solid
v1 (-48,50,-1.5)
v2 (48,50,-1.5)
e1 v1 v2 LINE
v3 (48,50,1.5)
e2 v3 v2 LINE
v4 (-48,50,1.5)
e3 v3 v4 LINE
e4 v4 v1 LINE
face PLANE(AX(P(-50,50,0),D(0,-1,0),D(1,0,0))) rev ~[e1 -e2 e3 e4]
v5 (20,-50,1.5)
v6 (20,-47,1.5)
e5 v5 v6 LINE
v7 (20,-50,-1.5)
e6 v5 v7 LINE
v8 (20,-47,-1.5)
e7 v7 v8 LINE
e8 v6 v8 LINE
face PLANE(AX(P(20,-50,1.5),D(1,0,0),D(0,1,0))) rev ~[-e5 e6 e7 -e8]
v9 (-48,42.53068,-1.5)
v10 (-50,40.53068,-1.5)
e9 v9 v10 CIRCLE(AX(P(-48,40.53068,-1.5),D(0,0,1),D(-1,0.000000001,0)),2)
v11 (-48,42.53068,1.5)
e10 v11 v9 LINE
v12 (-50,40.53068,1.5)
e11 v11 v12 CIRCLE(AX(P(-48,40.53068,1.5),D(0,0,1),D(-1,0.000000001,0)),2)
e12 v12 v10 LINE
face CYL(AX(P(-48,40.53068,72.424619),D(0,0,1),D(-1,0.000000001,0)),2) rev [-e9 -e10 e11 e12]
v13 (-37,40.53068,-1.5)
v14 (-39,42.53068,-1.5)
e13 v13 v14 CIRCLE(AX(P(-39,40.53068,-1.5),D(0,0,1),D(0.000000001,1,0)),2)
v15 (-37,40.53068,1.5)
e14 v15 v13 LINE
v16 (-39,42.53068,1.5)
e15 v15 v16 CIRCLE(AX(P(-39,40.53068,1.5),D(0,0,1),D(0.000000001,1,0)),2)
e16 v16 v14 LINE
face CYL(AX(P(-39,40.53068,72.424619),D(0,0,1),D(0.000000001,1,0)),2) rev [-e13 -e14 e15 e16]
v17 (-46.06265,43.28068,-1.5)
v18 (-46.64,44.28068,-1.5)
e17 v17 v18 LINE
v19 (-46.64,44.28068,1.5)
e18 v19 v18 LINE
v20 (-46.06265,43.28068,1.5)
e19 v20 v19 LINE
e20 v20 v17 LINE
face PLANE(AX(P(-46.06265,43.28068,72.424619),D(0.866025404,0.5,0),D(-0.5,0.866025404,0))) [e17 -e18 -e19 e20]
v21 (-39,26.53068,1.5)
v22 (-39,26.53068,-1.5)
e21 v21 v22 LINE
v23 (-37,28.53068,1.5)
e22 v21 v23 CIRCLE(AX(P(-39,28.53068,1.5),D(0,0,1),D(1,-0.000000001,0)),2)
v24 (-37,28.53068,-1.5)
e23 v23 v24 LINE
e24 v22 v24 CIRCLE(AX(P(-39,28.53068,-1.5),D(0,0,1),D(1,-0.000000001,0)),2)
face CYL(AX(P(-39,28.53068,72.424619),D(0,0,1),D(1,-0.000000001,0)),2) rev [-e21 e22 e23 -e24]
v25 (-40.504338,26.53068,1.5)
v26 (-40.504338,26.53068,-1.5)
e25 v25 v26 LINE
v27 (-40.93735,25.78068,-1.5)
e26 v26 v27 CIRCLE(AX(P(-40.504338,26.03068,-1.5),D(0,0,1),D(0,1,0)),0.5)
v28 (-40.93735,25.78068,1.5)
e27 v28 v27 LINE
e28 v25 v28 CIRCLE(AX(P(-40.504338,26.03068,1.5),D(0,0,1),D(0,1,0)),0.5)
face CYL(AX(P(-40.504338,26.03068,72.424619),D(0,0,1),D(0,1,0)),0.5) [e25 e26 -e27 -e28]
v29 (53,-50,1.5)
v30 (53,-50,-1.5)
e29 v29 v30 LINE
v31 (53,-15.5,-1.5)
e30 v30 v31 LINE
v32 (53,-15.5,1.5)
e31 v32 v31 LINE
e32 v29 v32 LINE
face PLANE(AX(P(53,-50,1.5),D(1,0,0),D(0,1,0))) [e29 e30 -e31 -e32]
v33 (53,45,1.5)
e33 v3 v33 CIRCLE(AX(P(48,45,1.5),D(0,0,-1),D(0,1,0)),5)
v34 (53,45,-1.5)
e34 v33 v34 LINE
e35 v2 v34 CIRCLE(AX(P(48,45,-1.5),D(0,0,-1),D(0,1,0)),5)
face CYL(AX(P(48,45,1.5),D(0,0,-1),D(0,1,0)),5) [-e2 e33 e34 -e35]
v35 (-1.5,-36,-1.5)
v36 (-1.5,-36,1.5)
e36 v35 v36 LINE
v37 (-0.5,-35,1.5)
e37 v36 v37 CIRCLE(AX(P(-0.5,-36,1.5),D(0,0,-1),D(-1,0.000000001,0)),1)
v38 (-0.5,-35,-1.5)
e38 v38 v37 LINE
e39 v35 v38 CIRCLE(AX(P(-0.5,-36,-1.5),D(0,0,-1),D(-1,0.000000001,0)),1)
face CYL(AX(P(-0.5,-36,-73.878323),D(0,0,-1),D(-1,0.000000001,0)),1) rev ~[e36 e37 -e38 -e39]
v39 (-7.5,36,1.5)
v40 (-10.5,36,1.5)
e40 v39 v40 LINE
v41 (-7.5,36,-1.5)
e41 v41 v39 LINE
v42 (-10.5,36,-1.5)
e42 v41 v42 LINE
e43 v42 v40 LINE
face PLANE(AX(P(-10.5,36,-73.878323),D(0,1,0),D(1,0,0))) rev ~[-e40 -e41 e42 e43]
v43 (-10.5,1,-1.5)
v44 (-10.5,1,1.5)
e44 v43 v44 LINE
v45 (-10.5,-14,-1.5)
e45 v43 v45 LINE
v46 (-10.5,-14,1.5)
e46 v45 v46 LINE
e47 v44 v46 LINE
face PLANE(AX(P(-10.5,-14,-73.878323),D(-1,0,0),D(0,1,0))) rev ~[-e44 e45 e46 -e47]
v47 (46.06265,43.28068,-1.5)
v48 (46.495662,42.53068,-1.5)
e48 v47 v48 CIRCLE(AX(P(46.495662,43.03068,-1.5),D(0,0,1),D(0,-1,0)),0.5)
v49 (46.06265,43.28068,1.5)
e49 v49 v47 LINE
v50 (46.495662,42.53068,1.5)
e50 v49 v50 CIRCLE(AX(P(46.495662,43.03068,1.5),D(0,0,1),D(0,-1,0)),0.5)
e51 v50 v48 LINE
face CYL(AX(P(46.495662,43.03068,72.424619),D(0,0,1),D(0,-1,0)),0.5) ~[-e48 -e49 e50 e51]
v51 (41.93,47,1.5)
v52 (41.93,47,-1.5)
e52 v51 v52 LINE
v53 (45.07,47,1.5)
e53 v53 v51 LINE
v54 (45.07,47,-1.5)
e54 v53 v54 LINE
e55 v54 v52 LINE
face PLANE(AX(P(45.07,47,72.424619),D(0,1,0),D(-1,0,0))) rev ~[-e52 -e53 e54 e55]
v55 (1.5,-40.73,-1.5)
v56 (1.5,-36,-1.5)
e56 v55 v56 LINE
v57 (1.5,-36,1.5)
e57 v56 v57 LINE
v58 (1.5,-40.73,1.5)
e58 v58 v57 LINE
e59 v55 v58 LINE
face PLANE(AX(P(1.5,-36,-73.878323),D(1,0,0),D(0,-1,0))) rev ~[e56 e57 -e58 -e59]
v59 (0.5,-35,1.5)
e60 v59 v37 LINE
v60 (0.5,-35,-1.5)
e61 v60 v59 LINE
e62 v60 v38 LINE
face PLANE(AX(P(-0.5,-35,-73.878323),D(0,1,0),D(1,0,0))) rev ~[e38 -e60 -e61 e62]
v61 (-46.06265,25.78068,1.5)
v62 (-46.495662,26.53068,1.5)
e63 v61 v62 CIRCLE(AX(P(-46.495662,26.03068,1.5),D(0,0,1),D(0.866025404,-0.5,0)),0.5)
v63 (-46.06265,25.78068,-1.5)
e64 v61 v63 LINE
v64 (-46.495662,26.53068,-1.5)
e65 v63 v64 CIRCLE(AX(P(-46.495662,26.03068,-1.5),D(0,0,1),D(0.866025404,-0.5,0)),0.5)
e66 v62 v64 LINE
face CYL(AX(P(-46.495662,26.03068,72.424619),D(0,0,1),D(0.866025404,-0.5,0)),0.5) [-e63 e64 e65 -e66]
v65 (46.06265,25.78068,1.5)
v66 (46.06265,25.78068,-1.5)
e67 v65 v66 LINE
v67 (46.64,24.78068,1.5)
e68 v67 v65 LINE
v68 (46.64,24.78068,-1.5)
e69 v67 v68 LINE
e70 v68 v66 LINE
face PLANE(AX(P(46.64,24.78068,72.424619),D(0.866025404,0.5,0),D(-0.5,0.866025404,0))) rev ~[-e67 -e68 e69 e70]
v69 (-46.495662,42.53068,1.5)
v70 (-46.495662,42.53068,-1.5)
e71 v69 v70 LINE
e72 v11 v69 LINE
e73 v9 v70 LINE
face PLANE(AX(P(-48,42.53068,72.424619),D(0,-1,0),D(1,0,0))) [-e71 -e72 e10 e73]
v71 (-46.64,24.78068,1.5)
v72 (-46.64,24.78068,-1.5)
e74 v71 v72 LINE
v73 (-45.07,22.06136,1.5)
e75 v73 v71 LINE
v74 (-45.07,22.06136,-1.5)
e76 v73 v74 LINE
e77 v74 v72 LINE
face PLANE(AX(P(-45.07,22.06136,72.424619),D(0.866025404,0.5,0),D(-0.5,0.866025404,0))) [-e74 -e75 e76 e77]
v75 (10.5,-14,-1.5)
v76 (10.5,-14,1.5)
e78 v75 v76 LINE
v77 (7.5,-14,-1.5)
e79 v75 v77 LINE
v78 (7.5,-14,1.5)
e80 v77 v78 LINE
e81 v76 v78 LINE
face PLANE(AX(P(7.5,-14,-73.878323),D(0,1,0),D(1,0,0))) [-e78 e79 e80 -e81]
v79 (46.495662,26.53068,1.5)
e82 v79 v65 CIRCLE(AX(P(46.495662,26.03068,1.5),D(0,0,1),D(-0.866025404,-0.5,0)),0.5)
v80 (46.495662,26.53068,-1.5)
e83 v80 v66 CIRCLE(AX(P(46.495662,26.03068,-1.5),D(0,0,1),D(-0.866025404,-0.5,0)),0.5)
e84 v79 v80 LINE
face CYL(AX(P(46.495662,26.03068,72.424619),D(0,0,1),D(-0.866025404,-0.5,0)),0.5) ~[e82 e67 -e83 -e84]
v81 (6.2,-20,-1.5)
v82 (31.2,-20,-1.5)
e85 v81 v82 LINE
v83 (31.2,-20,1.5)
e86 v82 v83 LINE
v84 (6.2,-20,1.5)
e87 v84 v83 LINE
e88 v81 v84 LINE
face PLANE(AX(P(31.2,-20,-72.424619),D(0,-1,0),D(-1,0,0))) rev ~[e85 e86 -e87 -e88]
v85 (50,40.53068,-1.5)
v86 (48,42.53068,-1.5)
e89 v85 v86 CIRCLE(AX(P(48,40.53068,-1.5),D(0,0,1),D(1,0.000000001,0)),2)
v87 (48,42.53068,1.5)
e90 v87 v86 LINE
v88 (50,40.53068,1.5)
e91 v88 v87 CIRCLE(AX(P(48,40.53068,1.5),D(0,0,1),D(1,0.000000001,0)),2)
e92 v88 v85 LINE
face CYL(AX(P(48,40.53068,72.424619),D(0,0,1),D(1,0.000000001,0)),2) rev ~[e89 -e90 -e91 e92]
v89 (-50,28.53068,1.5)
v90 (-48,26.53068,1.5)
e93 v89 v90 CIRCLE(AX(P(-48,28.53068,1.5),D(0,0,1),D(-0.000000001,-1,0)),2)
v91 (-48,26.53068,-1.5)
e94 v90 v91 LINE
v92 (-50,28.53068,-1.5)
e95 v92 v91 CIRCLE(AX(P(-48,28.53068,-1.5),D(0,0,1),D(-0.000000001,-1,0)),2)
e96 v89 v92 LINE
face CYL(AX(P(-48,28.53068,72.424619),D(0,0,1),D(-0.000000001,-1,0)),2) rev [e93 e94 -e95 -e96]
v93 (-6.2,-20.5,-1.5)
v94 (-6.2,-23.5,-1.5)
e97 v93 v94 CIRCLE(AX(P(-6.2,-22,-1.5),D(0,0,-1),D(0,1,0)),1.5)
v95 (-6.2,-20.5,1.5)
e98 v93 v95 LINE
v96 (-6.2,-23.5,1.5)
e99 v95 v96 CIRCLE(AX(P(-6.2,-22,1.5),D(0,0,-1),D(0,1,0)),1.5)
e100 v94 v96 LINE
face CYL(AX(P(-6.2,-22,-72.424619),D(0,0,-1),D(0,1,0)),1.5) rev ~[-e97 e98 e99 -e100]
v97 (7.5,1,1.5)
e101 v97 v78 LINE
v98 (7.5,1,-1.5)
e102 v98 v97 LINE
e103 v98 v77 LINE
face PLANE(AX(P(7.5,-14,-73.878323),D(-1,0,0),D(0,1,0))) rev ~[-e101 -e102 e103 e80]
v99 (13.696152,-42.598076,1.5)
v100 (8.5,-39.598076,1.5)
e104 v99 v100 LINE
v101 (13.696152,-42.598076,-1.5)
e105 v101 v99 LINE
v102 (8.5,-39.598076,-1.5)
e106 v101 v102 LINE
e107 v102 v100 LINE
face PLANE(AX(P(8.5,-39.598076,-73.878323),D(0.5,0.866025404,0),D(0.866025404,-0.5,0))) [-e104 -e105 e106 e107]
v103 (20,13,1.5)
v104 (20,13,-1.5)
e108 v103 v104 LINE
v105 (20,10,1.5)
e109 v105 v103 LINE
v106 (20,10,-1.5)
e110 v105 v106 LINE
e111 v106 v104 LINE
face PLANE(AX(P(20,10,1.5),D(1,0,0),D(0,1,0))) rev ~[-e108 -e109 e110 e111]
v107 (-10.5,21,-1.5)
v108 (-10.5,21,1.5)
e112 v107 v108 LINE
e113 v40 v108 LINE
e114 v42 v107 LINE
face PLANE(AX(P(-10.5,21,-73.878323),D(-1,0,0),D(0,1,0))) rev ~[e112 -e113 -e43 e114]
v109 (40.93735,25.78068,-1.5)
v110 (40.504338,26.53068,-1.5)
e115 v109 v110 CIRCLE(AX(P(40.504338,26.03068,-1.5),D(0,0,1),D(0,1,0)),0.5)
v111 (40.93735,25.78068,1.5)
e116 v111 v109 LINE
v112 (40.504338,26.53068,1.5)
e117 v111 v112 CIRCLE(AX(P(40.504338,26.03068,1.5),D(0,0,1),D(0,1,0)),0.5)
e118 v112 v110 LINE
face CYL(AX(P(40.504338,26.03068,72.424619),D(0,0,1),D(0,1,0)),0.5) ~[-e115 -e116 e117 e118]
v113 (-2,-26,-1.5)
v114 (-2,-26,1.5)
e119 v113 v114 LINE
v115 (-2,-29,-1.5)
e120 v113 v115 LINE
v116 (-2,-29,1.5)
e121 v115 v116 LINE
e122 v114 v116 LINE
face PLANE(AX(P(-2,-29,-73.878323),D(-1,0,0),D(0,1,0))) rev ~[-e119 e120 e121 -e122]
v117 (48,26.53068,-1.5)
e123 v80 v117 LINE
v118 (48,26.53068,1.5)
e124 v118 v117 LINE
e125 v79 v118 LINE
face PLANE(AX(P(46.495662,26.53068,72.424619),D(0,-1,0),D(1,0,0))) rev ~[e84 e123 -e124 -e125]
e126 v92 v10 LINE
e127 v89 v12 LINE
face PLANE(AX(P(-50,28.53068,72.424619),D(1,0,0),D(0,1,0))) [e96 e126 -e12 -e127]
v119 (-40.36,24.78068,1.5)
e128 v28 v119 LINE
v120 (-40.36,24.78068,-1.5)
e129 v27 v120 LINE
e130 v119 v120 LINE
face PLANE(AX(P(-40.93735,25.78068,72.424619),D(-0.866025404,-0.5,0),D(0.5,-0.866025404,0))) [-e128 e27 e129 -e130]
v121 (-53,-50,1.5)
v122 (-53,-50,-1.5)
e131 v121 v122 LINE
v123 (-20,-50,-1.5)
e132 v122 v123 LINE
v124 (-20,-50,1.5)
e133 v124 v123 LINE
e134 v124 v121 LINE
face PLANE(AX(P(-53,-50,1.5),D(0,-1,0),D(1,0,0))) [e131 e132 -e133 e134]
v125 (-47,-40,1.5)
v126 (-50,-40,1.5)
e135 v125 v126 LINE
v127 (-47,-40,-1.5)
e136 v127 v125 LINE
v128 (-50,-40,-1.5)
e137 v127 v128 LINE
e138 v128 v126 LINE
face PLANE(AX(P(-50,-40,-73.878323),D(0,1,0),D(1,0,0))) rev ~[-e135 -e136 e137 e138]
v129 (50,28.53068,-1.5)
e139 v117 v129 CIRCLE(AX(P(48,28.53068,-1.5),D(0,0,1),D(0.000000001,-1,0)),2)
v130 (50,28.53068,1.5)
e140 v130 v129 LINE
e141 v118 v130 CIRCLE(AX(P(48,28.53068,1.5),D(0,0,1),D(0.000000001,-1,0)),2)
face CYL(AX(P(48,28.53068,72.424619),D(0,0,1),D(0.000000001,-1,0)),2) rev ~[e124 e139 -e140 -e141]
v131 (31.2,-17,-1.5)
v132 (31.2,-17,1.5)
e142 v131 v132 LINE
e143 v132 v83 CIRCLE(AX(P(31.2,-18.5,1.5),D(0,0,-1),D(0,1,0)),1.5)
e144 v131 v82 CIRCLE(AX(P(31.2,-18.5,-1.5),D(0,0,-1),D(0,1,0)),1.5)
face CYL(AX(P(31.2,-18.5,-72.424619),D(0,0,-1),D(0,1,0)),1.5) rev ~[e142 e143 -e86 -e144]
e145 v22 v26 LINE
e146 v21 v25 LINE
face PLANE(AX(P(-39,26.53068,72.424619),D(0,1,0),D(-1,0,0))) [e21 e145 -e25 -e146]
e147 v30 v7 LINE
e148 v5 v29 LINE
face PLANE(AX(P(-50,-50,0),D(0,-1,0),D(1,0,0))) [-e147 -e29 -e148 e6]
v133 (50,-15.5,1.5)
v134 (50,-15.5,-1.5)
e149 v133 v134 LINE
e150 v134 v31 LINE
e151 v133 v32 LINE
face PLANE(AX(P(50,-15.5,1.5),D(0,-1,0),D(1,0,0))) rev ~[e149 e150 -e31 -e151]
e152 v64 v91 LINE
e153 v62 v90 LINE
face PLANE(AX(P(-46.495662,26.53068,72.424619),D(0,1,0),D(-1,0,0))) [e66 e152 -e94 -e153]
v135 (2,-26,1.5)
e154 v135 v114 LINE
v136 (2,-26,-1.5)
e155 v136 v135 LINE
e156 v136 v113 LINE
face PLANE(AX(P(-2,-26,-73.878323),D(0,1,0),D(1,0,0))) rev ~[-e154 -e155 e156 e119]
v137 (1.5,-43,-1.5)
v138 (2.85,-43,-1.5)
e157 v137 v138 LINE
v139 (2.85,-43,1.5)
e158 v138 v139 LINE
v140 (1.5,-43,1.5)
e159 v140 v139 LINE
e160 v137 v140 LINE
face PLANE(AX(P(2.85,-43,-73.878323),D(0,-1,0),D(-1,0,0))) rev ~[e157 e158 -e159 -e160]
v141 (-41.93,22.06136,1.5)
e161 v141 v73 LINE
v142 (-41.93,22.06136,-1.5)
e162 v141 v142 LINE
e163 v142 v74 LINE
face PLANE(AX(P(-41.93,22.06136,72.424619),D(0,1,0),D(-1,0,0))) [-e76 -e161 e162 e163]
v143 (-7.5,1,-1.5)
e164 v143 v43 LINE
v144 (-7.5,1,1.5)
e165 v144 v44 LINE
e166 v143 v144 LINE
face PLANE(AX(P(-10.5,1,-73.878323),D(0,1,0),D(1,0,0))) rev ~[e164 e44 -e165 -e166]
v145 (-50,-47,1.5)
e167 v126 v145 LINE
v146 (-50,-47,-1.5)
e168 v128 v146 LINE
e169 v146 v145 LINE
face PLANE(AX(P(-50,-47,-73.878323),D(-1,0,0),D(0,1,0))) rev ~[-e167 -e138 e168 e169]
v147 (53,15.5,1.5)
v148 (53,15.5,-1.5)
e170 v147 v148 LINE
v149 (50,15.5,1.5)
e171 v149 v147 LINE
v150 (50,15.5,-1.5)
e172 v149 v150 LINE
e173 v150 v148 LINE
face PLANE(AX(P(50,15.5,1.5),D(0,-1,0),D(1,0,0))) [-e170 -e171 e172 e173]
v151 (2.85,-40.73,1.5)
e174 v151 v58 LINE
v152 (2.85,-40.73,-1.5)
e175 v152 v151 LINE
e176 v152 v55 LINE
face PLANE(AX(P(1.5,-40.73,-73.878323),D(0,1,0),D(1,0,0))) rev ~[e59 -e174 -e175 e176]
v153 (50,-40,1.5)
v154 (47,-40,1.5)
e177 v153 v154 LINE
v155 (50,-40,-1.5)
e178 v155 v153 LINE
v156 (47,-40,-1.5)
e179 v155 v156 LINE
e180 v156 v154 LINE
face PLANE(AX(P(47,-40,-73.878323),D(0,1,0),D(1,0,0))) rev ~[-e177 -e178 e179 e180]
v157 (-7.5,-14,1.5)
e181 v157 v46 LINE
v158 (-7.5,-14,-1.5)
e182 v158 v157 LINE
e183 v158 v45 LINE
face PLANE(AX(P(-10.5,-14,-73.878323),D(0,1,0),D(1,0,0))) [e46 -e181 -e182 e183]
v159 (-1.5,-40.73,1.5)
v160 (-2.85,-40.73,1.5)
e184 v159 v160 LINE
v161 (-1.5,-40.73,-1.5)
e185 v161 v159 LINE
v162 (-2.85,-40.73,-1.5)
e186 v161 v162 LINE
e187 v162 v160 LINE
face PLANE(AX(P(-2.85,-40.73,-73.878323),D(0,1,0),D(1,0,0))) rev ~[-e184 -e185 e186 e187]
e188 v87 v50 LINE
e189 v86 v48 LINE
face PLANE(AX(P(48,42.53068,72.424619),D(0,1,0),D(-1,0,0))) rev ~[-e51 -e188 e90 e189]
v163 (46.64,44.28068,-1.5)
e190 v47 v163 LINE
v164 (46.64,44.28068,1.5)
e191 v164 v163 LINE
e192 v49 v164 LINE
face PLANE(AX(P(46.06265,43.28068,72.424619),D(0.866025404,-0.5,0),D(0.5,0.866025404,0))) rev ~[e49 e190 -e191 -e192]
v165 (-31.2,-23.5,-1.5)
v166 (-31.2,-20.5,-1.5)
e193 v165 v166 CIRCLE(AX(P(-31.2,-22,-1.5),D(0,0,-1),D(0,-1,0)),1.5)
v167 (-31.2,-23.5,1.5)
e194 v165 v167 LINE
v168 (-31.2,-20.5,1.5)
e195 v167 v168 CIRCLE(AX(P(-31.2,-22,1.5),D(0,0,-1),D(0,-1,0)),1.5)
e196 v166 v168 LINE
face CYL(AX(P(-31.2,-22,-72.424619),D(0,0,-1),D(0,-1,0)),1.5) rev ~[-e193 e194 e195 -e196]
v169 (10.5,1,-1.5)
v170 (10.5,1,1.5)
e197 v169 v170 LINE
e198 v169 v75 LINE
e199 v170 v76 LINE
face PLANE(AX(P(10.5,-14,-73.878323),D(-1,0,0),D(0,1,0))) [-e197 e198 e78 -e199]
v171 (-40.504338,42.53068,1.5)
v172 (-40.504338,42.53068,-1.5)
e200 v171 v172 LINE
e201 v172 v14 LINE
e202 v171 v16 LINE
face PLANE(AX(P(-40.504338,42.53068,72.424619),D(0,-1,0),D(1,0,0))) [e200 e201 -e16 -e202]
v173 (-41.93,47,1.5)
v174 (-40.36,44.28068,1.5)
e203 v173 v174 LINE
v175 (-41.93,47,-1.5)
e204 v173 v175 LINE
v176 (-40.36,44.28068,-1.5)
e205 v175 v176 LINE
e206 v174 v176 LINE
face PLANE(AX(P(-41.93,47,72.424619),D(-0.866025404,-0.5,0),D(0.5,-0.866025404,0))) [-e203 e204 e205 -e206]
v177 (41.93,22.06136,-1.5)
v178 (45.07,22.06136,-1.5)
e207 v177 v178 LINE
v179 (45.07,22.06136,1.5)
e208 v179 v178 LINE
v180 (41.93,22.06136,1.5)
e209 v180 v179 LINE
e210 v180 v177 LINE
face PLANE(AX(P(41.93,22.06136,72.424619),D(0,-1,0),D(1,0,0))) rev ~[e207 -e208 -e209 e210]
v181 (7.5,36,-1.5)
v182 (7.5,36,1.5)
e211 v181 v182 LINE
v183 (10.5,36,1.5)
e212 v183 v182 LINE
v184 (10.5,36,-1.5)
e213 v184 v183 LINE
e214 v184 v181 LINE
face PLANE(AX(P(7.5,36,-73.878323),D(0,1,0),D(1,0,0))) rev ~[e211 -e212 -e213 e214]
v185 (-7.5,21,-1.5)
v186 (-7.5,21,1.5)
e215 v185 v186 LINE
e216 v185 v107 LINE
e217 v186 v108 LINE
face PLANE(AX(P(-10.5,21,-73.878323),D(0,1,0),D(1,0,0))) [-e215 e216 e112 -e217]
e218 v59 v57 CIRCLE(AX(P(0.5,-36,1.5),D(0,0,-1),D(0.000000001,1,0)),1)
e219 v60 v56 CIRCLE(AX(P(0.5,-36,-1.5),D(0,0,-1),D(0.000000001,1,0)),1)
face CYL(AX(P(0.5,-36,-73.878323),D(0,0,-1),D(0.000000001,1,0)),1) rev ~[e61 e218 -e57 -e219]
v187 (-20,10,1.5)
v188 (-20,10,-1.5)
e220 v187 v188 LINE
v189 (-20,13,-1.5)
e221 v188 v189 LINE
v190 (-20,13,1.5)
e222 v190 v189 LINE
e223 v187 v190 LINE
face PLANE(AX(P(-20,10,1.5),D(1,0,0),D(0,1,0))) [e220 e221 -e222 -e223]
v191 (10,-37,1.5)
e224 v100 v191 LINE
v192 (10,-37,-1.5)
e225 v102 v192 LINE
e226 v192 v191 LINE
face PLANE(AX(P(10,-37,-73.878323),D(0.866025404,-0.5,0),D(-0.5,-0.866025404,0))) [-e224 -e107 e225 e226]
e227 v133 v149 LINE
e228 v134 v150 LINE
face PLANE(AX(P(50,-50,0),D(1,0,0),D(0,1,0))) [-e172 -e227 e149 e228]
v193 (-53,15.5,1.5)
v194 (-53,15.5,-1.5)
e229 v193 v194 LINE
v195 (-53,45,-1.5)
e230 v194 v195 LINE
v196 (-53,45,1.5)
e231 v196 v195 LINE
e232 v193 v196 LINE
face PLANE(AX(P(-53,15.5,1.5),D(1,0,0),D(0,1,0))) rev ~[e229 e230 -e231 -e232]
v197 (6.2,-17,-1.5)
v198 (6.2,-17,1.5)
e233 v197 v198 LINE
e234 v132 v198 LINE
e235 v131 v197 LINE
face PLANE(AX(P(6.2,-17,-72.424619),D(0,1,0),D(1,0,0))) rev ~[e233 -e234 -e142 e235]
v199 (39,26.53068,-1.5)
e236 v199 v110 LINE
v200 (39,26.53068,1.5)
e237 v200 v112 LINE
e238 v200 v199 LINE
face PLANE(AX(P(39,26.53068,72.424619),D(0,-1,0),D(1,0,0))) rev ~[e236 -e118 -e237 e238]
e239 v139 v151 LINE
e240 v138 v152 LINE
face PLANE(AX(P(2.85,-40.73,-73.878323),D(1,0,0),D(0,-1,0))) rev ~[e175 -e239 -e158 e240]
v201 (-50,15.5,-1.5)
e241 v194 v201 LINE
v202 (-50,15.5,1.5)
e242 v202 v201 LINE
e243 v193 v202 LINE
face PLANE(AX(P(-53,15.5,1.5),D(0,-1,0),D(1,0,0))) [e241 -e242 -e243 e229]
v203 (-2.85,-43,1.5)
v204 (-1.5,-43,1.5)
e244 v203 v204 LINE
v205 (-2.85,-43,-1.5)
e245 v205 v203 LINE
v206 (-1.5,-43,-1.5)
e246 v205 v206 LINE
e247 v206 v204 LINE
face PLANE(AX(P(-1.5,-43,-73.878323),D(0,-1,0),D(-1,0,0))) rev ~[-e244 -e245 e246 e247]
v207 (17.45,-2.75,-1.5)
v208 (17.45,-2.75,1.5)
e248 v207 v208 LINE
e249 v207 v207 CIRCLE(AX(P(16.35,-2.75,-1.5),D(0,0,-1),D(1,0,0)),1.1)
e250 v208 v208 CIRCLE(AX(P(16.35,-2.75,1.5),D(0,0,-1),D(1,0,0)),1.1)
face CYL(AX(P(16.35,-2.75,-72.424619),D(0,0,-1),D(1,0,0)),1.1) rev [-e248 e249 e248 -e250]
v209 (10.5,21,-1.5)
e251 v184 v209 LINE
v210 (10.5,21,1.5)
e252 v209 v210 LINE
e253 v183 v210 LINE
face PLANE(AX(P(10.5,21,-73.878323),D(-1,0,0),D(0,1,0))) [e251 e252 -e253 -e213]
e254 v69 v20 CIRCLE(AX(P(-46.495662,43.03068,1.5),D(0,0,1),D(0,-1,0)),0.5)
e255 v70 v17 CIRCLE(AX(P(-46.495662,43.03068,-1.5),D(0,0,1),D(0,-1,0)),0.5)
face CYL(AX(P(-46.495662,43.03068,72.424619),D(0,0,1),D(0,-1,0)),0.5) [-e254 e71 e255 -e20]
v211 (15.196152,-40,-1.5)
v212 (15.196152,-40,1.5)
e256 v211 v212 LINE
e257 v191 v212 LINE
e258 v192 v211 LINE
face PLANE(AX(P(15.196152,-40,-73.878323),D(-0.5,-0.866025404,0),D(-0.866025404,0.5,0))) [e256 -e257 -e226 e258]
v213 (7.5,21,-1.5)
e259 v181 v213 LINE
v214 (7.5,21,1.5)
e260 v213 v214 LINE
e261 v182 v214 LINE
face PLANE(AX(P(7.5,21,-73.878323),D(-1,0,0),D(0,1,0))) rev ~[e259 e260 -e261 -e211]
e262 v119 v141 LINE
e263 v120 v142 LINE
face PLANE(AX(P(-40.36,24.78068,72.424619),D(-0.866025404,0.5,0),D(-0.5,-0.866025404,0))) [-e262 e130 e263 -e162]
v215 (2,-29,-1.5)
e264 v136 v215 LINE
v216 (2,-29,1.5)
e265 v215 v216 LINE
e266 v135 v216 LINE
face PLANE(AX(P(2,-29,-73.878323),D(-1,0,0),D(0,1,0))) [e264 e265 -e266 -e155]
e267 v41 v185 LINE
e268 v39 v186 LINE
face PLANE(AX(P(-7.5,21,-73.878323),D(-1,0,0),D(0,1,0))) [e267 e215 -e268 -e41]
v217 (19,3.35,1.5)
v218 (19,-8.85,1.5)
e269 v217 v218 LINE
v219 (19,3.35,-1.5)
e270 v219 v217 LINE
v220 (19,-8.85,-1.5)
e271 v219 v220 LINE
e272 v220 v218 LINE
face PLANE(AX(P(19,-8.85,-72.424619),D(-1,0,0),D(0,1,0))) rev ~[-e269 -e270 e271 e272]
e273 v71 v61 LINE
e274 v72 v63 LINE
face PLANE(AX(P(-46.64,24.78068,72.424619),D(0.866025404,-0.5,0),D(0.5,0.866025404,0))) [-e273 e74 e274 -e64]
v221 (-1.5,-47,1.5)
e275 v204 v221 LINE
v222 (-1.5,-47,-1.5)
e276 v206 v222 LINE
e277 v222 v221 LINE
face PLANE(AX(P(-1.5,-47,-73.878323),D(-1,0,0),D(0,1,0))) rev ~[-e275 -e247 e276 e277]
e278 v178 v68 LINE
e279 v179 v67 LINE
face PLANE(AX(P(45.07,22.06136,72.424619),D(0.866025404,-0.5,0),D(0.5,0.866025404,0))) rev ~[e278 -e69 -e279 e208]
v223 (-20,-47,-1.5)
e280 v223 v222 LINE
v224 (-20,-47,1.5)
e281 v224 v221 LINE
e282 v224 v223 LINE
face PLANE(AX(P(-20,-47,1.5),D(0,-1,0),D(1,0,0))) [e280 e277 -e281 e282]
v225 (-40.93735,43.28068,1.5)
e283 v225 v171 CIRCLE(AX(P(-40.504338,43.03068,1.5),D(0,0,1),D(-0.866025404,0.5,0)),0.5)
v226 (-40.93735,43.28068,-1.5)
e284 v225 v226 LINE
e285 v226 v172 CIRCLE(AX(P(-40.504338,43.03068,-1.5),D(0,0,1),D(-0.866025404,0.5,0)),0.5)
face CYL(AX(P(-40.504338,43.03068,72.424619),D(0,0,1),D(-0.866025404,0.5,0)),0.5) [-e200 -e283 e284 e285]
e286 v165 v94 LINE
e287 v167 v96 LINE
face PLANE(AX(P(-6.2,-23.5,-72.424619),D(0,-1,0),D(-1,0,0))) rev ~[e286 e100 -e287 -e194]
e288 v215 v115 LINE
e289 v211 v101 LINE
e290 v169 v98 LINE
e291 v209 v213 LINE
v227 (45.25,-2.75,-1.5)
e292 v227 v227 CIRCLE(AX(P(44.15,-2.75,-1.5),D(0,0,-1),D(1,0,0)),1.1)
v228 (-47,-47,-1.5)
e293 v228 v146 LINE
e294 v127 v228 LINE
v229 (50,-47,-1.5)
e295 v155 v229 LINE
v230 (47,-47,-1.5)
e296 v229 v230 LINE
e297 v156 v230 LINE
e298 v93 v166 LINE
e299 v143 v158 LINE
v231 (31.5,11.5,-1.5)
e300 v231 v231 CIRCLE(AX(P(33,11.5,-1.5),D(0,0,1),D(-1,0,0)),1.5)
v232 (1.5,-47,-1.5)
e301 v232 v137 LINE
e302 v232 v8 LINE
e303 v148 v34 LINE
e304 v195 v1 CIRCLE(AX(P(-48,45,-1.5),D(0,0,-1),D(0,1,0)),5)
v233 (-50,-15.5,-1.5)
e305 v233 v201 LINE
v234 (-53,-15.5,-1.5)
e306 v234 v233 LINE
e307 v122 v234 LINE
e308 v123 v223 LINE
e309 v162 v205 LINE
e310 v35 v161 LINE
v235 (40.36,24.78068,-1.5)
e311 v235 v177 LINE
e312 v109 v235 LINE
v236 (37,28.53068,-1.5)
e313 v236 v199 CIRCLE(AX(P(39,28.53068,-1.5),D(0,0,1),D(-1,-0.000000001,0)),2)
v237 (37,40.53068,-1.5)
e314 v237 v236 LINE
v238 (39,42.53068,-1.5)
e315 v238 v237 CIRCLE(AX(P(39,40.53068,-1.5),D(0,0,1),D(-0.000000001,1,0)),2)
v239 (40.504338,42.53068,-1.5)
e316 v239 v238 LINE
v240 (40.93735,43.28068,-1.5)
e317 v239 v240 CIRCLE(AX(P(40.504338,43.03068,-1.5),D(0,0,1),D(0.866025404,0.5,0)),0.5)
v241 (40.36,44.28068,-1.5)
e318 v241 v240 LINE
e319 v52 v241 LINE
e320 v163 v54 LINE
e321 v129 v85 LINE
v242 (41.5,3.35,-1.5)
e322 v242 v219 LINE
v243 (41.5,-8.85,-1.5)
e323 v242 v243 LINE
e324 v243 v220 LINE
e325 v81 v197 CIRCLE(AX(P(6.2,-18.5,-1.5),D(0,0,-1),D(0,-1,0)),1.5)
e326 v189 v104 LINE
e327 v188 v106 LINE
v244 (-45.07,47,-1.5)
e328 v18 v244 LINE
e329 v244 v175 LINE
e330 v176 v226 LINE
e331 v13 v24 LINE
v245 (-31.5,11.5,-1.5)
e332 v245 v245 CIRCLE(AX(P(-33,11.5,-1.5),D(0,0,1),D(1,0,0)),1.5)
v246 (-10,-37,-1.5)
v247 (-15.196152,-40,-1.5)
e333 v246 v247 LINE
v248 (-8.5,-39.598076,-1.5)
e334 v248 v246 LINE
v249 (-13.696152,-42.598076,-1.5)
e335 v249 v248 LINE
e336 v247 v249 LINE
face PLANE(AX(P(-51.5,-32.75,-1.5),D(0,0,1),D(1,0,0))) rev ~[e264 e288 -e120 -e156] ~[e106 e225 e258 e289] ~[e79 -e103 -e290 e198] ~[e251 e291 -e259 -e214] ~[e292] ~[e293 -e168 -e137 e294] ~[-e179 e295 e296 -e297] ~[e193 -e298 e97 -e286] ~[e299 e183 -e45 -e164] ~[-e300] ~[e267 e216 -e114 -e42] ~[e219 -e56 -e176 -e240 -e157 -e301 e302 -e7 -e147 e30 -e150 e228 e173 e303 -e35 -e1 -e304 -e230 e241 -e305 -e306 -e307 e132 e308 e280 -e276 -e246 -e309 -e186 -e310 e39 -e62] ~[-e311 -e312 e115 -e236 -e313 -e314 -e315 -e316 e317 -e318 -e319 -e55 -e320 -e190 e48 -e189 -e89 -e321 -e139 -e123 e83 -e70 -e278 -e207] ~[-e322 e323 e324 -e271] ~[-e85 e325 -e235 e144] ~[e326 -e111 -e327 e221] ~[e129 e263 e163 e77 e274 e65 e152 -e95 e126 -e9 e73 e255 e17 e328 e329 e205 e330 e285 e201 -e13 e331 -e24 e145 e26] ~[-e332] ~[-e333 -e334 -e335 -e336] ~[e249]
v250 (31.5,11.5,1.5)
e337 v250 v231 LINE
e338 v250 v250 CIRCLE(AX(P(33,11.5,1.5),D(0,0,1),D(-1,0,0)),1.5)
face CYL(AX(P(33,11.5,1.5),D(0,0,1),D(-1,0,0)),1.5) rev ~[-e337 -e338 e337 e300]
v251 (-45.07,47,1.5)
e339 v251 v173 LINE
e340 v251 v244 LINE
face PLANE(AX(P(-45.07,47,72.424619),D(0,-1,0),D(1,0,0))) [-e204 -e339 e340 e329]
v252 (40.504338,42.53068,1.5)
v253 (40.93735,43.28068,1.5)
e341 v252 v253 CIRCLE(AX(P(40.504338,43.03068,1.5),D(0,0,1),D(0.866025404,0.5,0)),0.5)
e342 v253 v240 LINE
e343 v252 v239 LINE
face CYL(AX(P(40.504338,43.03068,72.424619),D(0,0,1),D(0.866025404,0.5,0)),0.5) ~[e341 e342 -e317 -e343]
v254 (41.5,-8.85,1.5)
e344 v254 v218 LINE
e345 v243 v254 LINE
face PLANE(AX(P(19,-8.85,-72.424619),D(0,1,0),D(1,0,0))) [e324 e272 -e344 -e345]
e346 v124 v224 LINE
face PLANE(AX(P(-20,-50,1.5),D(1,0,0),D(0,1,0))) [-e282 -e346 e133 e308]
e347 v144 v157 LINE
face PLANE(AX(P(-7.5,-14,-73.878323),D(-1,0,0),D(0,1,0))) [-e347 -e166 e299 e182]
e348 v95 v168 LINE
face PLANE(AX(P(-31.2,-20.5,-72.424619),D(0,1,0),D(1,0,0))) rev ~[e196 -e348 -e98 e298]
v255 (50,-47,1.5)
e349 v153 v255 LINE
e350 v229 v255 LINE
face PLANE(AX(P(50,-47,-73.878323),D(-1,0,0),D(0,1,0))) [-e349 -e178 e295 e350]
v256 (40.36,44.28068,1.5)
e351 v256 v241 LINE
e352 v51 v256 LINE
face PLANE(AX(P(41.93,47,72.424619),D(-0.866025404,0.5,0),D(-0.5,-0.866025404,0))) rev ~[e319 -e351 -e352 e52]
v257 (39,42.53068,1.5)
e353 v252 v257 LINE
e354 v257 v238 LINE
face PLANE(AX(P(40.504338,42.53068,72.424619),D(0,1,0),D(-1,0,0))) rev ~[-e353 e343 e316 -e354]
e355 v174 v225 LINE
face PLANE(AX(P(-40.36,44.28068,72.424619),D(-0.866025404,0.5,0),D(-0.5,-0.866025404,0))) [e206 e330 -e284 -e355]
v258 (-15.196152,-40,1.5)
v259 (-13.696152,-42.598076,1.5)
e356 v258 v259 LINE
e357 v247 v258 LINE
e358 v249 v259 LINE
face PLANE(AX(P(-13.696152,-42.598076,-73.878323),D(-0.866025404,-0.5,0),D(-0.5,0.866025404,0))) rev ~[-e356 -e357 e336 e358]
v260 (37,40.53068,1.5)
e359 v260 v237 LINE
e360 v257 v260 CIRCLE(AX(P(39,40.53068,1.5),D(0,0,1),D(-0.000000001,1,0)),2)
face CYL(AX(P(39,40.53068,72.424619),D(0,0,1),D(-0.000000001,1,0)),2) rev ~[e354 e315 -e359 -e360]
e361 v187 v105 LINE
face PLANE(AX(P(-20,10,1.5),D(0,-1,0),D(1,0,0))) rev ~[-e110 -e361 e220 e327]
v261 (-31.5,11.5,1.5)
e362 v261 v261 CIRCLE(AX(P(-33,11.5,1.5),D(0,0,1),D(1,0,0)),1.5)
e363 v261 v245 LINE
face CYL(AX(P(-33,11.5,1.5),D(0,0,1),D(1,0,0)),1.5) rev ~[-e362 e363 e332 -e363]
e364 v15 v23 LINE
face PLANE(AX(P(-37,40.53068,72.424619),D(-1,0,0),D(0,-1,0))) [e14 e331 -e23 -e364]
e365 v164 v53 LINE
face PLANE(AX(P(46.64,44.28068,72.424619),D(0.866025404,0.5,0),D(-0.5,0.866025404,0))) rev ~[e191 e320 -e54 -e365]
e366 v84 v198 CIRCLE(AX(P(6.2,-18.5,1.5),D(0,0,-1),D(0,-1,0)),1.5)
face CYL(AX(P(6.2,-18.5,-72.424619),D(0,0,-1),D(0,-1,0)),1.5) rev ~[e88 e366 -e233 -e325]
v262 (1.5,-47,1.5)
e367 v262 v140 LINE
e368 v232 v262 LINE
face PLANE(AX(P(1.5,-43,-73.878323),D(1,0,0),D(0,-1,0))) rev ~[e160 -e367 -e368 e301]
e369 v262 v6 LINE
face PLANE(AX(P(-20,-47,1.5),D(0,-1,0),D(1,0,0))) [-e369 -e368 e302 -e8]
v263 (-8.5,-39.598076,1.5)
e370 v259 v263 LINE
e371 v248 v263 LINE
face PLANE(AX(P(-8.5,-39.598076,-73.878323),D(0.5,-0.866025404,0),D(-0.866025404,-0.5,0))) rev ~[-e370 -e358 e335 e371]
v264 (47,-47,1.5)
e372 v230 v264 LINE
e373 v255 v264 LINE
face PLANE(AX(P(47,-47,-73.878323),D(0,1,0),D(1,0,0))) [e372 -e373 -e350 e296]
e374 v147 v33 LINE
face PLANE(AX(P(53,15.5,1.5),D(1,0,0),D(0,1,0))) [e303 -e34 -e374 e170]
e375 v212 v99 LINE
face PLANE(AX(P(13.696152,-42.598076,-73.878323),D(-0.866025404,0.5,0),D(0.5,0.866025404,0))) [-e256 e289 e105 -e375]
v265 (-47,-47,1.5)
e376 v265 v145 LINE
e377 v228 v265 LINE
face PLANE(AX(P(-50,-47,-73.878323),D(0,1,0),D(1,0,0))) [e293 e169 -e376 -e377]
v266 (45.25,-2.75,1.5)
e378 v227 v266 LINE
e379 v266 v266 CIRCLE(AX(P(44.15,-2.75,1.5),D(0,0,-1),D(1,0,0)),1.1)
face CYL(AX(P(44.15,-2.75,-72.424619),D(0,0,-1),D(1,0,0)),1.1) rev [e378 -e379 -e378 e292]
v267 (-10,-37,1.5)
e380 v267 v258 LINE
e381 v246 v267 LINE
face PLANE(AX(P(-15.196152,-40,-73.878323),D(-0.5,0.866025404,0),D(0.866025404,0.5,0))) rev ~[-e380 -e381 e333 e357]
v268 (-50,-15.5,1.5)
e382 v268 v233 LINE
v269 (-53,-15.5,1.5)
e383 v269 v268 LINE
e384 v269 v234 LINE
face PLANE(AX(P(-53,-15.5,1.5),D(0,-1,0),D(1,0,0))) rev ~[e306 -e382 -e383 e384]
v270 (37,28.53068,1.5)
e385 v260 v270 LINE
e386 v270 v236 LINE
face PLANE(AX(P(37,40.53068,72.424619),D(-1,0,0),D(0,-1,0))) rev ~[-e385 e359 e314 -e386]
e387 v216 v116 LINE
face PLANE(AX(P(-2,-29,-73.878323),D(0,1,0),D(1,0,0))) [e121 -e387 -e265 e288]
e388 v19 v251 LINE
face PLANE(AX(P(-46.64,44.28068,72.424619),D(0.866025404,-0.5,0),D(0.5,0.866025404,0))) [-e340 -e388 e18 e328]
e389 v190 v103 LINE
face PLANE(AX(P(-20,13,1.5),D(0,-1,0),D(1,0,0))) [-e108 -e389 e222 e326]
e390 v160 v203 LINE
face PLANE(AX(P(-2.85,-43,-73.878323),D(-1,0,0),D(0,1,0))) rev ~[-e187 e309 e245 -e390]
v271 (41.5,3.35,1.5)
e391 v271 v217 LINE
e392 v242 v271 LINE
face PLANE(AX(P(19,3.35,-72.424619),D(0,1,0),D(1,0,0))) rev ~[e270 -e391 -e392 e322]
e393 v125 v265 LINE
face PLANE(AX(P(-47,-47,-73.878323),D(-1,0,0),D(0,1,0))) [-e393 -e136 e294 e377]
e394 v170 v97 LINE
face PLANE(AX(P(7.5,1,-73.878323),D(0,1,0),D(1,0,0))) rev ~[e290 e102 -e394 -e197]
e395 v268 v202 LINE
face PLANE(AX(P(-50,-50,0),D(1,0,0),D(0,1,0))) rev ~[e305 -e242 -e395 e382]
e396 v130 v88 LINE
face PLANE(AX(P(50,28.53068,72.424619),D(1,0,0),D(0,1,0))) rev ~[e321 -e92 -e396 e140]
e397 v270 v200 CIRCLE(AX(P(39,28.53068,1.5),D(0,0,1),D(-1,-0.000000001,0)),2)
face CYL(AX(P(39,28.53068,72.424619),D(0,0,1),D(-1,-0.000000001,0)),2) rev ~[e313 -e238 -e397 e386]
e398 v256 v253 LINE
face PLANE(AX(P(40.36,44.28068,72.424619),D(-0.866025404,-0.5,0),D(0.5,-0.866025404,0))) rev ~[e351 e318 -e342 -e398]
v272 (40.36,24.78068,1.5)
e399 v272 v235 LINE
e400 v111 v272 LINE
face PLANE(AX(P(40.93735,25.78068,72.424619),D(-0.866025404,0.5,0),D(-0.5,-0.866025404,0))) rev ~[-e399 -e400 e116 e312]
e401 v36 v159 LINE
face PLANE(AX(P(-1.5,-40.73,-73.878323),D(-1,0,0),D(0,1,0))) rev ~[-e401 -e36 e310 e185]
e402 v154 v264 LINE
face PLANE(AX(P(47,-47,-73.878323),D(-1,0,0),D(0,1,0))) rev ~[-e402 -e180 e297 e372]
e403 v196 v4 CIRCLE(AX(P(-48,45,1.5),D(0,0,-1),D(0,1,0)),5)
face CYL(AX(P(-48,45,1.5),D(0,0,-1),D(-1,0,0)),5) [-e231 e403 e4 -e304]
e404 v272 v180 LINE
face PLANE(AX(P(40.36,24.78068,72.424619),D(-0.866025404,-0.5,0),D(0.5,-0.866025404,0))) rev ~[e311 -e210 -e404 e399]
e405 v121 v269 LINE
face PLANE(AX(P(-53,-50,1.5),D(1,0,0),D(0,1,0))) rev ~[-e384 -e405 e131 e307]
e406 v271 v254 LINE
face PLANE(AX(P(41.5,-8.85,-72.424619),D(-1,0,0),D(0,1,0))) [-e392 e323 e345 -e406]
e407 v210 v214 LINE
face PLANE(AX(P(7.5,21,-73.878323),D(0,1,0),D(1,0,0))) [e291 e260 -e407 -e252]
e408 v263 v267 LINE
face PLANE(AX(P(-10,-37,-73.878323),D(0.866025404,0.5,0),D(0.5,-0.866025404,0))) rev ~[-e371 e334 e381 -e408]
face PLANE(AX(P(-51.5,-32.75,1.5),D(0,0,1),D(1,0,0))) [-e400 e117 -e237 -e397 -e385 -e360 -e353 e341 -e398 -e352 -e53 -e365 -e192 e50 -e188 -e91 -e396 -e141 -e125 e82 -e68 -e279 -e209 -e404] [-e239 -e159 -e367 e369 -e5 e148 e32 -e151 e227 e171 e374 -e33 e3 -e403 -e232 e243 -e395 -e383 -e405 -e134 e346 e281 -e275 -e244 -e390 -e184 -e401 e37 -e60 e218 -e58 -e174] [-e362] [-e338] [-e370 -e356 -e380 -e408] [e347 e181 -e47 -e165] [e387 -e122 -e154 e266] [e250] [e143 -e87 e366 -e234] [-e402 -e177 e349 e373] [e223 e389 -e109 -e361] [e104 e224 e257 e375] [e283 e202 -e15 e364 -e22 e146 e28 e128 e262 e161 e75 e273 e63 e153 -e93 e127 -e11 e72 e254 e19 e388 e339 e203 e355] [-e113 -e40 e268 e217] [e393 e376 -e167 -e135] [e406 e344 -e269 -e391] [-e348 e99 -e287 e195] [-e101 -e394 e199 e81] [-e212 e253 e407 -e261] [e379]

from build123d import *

# Parameters (mm, degrees)
ESBO_O1_W                  = 100
ESBO_O1_H                  = 100
RESSALTO_EXTRUS_O1_DEPTH   = 1.5
ESBO_O2_R                  = 1.5
ESBO_O2_W                  = 40
ESBO_O2_H                  = 3
CORTE_EXTRUS_O1_DEPTH      = 71.774289117
ESBO_O3_W                  = 3
ESBO_O3_H                  = 34.5
RESSALTO_EXTRUS_O2_DEPTH   = 3
CUT_EXTRUDE4_DEPTH         = 73.878323252
CUT_EXTRUDE4_DEPTH_BACK    = 73.878323252
FILLET1_R                  = 5
CUT_EXTRUDE5_DEPTH         = 73.878323252
CUT_EXTRUDE5_DEPTH_BACK    = 73.878323252
SKETCH3_W                  = 3
SKETCH3_H                  = 15
SKETCH3_W_2                = 4
SKETCH3_H_2                = 3
SKETCH3_H_3                = 7
CORTE_GY_VL53L0_DEPTH      = 73.924618614
CORTE_GY_VL53L0_DEPTH_BACK = 73.924618614
CUT_EXTRUDE6_DEPTH         = 73.924618614
CUT_EXTRUDE6_DEPTH_BACK    = 73.924618614
SKETCH4_R                  = 1.1
SKETCH4_W                  = 22.5
SKETCH4_H                  = 12.2
CUT_EXTRUDE7_DEPTH         = 73.924618614
CUT_EXTRUDE7_DEPTH_BACK    = 73.924618614


with BuildPart() as part:
    # Esboço1 → Ressalto-extrusão1 (new, symmetric)
    with BuildSketch(Plane.XY):
        Rectangle(ESBO_O1_W, ESBO_O1_H)
    extrude(amount=RESSALTO_EXTRUS_O1_DEPTH, both=True)

    # Esboço2 → Corte-extrusão1 (cut, through all)
    with BuildSketch(Plane.XY.offset(1.5)):
        with Locations((-33, 11.5)):
            Circle(ESBO_O2_R)
        with Locations(Location((33, 11.5, 0), (0, 0, 180))):
            Circle(ESBO_O2_R)
        with Locations((0, -48.5)):
            Rectangle(ESBO_O2_W, ESBO_O2_H)
        with Locations((0, 11.5)):
            Rectangle(ESBO_O2_W, ESBO_O2_H)
    extrude(amount=-CORTE_EXTRUS_O1_DEPTH, mode=Mode.SUBTRACT)

    # Esboço3 → Ressalto-extrusão2 (add, through all)
    with BuildSketch(Plane.XY.offset(1.5)):
        with Locations((-51.5, -32.75)):
            Rectangle(ESBO_O3_W, ESBO_O3_H)
        with Locations((51.5, -32.75)):
            Rectangle(ESBO_O3_W, ESBO_O3_H)
        with Locations((-51.5, 32.75)):
            Rectangle(ESBO_O3_W, ESBO_O3_H)
        with Locations((51.5, 32.75)):
            Rectangle(ESBO_O3_W, ESBO_O3_H)
    extrude(amount=-RESSALTO_EXTRUS_O2_DEPTH)

    # Sketch2 → Cut-Extrude4 (cut, two sides: drawn at the far end of the back side and taken through both)
    with BuildSketch(Plane.XY.offset(-CUT_EXTRUDE4_DEPTH_BACK)):
        with BuildLine():
            Line((-0.5, -35), (0.5, -35))
            ThreePointArc((0.5, -35), (1.207106781, -35.292893219), (1.5, -36))
            Line((1.5, -36), (1.5, -40.73))
            Line((1.5, -40.73), (2.85, -40.73))
            Line((2.85, -40.73), (2.85, -43))
            Line((2.85, -43), (1.5, -43))
            Line((1.5, -43), (1.5, -47))
            Line((1.5, -47), (-1.5, -47))
            Line((-1.5, -47), (-1.5, -43))
            Line((-1.5, -43), (-2.85, -43))
            Line((-2.85, -43), (-2.85, -40.73))
            Line((-2.85, -40.73), (-1.5, -40.73))
            Line((-1.5, -40.73), (-1.5, -36))
            ThreePointArc((-1.5, -36), (-1.207106781, -35.292893219), (-0.5, -35))
        make_face()
    extrude(amount=CUT_EXTRUDE4_DEPTH + CUT_EXTRUDE4_DEPTH_BACK, mode=Mode.SUBTRACT)

    # Fillet1
    fillet1_edges = [part.edges().sort_by_distance(p)[0] for p in [
        (53, 50, 0),
        (-53, 50, 0),
    ]]
    fillet(fillet1_edges, radius=FILLET1_R)

    # Sketch3 → Cut-Extrude5 (cut, two sides: drawn at the far end of the back side and taken through both)
    with BuildSketch(Plane.XY.offset(-CUT_EXTRUDE5_DEPTH_BACK)):
        with Locations((9, -6.5)):
            Rectangle(SKETCH3_W, SKETCH3_H)
        with Locations((9, 28.5)):
            Rectangle(SKETCH3_W, SKETCH3_H)
        with Locations((-9, 28.5)):
            Rectangle(SKETCH3_W, SKETCH3_H)
        with Locations((-9, -6.5)):
            Rectangle(SKETCH3_W, SKETCH3_H)
        with Locations((0, -27.5)):
            Rectangle(SKETCH3_W_2, SKETCH3_H_2)
        Polygon((-15.196152423, -40), (-10, -37), (-8.5, -39.598076211), (-13.696152423, -42.598076211), align=None)
        Polygon((10, -37), (8.5, -39.598076211), (13.696152423, -42.598076211), (15.196152423, -40), align=None)
        with Locations((-48.5, -43.5)):
            Rectangle(SKETCH3_W, SKETCH3_H_3)
        with Locations((48.5, -43.5)):
            Rectangle(SKETCH3_W, SKETCH3_H_3)
    extrude(amount=CUT_EXTRUDE5_DEPTH + CUT_EXTRUDE5_DEPTH_BACK, mode=Mode.SUBTRACT)

    # Sketch1 → Corte Gy-VL53L0 (cut, two sides: drawn at the far end of the back side and taken through both)
    with BuildSketch(Plane(origin=(0, 0, -1.5), x_dir=(-1, 0, 0), z_dir=(0, 0, -1)).offset(-CORTE_GY_VL53L0_DEPTH_BACK)):
        with BuildLine():
            Line((-46.5, 42.530680232), (-46.495662433, 42.530680232))
            ThreePointArc((-46.495662433, 42.530680232), (-46.062649731, 42.780680232), (-46.062649731, 43.280680232))
            Line((-46.062649731, 43.280680232), (-46.64, 44.280680232))
            Line((-46.64, 44.280680232), (-45.07, 47))
            Line((-45.07, 47), (-41.93, 47))
            Line((-41.93, 47), (-40.36, 44.280680232))
            Line((-40.36, 44.280680232), (-40.937350269, 43.280680232))
            ThreePointArc((-40.937350269, 43.280680232), (-40.937350269, 42.780680232), (-40.504337567, 42.530680232))
            Line((-40.504337567, 42.530680232), (-39, 42.530680232))
            ThreePointArc((-39, 42.530680232), (-37.585786438, 41.944893794), (-37, 40.530680232))
            Line((-37, 40.530680232), (-37, 28.530680232))
            ThreePointArc((-37, 28.530680232), (-37.585786438, 27.11646667), (-39, 26.530680232))
            Line((-39, 26.530680232), (-40.504337567, 26.530680232))
            ThreePointArc((-40.504337567, 26.530680232), (-40.937350269, 26.280680232), (-40.937350269, 25.780680232))
            Line((-40.937350269, 25.780680232), (-40.36, 24.780680232))
            Line((-40.36, 24.780680232), (-41.93, 22.061360464))
            Line((-41.93, 22.061360464), (-45.07, 22.061360464))
            Line((-45.07, 22.061360464), (-46.64, 24.780680232))
            Line((-46.64, 24.780680232), (-46.062649731, 25.780680232))
            ThreePointArc((-46.062649731, 25.780680232), (-46.062649731, 26.280680232), (-46.495662433, 26.530680232))
            Line((-46.495662433, 26.530680232), (-48, 26.530680232))
            ThreePointArc((-48, 26.530680232), (-49.414213562, 27.11646667), (-50, 28.530680232))
            Line((-50, 28.530680232), (-50, 34.530680232))
            Line((-50, 34.530680232), (-50, 40.530680232))
            ThreePointArc((-50, 40.530680232), (-49.414213562, 41.944893794), (-48, 42.530680232))
            Line((-48, 42.530680232), (-46.5, 42.530680232))
        make_face()
        with BuildLine():
            Line((46.5, 42.530680232), (46.495662433, 42.530680232))
            ThreePointArc((46.495662433, 42.530680232), (46.062649731, 42.780680232), (46.062649731, 43.280680232))
            Line((46.062649731, 43.280680232), (46.64, 44.280680232))
            Line((46.64, 44.280680232), (45.07, 47))
            Line((45.07, 47), (41.93, 47))
            Line((41.93, 47), (40.36, 44.280680232))
            Line((40.36, 44.280680232), (40.937350269, 43.280680232))
            ThreePointArc((40.937350269, 43.280680232), (40.937350269, 42.780680232), (40.504337567, 42.530680232))
            Line((40.504337567, 42.530680232), (39, 42.530680232))
            ThreePointArc((39, 42.530680232), (37.585786438, 41.944893794), (37, 40.530680232))
            Line((37, 40.530680232), (37, 28.530680232))
            ThreePointArc((37, 28.530680232), (37.585786438, 27.11646667), (39, 26.530680232))
            Line((39, 26.530680232), (40.504337567, 26.530680232))
            ThreePointArc((40.504337567, 26.530680232), (40.937350269, 26.280680232), (40.937350269, 25.780680232))
            Line((40.937350269, 25.780680232), (40.36, 24.780680232))
            Line((40.36, 24.780680232), (41.93, 22.061360464))
            Line((41.93, 22.061360464), (45.07, 22.061360464))
            Line((45.07, 22.061360464), (46.64, 24.780680232))
            Line((46.64, 24.780680232), (46.062649731, 25.780680232))
            ThreePointArc((46.062649731, 25.780680232), (46.062649731, 26.280680232), (46.495662433, 26.530680232))
            Line((46.495662433, 26.530680232), (48, 26.530680232))
            ThreePointArc((48, 26.530680232), (49.414213562, 27.11646667), (50, 28.530680232))
            Line((50, 28.530680232), (50, 34.530680232))
            Line((50, 34.530680232), (50, 40.530680232))
            ThreePointArc((50, 40.530680232), (49.414213562, 41.944893794), (48, 42.530680232))
            Line((48, 42.530680232), (46.5, 42.530680232))
        make_face()
    extrude(amount=CORTE_GY_VL53L0_DEPTH + CORTE_GY_VL53L0_DEPTH_BACK, mode=Mode.SUBTRACT)

    # Sketch4 → Cut-Extrude6 (cut, two sides: drawn at the far end of the back side and taken through both)
    with BuildSketch(Plane.XY.offset(1.5).offset(-CUT_EXTRUDE6_DEPTH_BACK)):
        with Locations((44.15, -2.75)):
            Circle(SKETCH4_R)
        with Locations((16.35, -2.75)):
            Circle(SKETCH4_R)
        with Locations((30.25, -2.75)):
            Rectangle(SKETCH4_W, SKETCH4_H)
    extrude(amount=CUT_EXTRUDE6_DEPTH + CUT_EXTRUDE6_DEPTH_BACK, mode=Mode.SUBTRACT)

    # Sketch6 → Cut-Extrude7 (cut, two sides: drawn at the far end of the back side and taken through both)
    with BuildSketch(Plane.XY.offset(1.5).offset(-CUT_EXTRUDE7_DEPTH_BACK)):
        with BuildLine():
            Line((-31.2, -20.5), (-6.2, -20.5))
            ThreePointArc((-6.2, -20.5), (-4.7, -22), (-6.2, -23.5))
            Line((-6.2, -23.5), (-31.2, -23.5))
            ThreePointArc((-31.2, -23.5), (-32.7, -22), (-31.2, -20.5))
        make_face()
        with BuildLine():
            Line((6.2, -17), (31.2, -17))
            ThreePointArc((31.2, -17), (32.7, -18.5), (31.2, -20))
            Line((31.2, -20), (6.2, -20))
            ThreePointArc((6.2, -20), (4.7, -18.5), (6.2, -17))
        make_face()
    extrude(amount=CUT_EXTRUDE7_DEPTH + CUT_EXTRUDE7_DEPTH_BACK, mode=Mode.SUBTRACT)


solid = part.part
